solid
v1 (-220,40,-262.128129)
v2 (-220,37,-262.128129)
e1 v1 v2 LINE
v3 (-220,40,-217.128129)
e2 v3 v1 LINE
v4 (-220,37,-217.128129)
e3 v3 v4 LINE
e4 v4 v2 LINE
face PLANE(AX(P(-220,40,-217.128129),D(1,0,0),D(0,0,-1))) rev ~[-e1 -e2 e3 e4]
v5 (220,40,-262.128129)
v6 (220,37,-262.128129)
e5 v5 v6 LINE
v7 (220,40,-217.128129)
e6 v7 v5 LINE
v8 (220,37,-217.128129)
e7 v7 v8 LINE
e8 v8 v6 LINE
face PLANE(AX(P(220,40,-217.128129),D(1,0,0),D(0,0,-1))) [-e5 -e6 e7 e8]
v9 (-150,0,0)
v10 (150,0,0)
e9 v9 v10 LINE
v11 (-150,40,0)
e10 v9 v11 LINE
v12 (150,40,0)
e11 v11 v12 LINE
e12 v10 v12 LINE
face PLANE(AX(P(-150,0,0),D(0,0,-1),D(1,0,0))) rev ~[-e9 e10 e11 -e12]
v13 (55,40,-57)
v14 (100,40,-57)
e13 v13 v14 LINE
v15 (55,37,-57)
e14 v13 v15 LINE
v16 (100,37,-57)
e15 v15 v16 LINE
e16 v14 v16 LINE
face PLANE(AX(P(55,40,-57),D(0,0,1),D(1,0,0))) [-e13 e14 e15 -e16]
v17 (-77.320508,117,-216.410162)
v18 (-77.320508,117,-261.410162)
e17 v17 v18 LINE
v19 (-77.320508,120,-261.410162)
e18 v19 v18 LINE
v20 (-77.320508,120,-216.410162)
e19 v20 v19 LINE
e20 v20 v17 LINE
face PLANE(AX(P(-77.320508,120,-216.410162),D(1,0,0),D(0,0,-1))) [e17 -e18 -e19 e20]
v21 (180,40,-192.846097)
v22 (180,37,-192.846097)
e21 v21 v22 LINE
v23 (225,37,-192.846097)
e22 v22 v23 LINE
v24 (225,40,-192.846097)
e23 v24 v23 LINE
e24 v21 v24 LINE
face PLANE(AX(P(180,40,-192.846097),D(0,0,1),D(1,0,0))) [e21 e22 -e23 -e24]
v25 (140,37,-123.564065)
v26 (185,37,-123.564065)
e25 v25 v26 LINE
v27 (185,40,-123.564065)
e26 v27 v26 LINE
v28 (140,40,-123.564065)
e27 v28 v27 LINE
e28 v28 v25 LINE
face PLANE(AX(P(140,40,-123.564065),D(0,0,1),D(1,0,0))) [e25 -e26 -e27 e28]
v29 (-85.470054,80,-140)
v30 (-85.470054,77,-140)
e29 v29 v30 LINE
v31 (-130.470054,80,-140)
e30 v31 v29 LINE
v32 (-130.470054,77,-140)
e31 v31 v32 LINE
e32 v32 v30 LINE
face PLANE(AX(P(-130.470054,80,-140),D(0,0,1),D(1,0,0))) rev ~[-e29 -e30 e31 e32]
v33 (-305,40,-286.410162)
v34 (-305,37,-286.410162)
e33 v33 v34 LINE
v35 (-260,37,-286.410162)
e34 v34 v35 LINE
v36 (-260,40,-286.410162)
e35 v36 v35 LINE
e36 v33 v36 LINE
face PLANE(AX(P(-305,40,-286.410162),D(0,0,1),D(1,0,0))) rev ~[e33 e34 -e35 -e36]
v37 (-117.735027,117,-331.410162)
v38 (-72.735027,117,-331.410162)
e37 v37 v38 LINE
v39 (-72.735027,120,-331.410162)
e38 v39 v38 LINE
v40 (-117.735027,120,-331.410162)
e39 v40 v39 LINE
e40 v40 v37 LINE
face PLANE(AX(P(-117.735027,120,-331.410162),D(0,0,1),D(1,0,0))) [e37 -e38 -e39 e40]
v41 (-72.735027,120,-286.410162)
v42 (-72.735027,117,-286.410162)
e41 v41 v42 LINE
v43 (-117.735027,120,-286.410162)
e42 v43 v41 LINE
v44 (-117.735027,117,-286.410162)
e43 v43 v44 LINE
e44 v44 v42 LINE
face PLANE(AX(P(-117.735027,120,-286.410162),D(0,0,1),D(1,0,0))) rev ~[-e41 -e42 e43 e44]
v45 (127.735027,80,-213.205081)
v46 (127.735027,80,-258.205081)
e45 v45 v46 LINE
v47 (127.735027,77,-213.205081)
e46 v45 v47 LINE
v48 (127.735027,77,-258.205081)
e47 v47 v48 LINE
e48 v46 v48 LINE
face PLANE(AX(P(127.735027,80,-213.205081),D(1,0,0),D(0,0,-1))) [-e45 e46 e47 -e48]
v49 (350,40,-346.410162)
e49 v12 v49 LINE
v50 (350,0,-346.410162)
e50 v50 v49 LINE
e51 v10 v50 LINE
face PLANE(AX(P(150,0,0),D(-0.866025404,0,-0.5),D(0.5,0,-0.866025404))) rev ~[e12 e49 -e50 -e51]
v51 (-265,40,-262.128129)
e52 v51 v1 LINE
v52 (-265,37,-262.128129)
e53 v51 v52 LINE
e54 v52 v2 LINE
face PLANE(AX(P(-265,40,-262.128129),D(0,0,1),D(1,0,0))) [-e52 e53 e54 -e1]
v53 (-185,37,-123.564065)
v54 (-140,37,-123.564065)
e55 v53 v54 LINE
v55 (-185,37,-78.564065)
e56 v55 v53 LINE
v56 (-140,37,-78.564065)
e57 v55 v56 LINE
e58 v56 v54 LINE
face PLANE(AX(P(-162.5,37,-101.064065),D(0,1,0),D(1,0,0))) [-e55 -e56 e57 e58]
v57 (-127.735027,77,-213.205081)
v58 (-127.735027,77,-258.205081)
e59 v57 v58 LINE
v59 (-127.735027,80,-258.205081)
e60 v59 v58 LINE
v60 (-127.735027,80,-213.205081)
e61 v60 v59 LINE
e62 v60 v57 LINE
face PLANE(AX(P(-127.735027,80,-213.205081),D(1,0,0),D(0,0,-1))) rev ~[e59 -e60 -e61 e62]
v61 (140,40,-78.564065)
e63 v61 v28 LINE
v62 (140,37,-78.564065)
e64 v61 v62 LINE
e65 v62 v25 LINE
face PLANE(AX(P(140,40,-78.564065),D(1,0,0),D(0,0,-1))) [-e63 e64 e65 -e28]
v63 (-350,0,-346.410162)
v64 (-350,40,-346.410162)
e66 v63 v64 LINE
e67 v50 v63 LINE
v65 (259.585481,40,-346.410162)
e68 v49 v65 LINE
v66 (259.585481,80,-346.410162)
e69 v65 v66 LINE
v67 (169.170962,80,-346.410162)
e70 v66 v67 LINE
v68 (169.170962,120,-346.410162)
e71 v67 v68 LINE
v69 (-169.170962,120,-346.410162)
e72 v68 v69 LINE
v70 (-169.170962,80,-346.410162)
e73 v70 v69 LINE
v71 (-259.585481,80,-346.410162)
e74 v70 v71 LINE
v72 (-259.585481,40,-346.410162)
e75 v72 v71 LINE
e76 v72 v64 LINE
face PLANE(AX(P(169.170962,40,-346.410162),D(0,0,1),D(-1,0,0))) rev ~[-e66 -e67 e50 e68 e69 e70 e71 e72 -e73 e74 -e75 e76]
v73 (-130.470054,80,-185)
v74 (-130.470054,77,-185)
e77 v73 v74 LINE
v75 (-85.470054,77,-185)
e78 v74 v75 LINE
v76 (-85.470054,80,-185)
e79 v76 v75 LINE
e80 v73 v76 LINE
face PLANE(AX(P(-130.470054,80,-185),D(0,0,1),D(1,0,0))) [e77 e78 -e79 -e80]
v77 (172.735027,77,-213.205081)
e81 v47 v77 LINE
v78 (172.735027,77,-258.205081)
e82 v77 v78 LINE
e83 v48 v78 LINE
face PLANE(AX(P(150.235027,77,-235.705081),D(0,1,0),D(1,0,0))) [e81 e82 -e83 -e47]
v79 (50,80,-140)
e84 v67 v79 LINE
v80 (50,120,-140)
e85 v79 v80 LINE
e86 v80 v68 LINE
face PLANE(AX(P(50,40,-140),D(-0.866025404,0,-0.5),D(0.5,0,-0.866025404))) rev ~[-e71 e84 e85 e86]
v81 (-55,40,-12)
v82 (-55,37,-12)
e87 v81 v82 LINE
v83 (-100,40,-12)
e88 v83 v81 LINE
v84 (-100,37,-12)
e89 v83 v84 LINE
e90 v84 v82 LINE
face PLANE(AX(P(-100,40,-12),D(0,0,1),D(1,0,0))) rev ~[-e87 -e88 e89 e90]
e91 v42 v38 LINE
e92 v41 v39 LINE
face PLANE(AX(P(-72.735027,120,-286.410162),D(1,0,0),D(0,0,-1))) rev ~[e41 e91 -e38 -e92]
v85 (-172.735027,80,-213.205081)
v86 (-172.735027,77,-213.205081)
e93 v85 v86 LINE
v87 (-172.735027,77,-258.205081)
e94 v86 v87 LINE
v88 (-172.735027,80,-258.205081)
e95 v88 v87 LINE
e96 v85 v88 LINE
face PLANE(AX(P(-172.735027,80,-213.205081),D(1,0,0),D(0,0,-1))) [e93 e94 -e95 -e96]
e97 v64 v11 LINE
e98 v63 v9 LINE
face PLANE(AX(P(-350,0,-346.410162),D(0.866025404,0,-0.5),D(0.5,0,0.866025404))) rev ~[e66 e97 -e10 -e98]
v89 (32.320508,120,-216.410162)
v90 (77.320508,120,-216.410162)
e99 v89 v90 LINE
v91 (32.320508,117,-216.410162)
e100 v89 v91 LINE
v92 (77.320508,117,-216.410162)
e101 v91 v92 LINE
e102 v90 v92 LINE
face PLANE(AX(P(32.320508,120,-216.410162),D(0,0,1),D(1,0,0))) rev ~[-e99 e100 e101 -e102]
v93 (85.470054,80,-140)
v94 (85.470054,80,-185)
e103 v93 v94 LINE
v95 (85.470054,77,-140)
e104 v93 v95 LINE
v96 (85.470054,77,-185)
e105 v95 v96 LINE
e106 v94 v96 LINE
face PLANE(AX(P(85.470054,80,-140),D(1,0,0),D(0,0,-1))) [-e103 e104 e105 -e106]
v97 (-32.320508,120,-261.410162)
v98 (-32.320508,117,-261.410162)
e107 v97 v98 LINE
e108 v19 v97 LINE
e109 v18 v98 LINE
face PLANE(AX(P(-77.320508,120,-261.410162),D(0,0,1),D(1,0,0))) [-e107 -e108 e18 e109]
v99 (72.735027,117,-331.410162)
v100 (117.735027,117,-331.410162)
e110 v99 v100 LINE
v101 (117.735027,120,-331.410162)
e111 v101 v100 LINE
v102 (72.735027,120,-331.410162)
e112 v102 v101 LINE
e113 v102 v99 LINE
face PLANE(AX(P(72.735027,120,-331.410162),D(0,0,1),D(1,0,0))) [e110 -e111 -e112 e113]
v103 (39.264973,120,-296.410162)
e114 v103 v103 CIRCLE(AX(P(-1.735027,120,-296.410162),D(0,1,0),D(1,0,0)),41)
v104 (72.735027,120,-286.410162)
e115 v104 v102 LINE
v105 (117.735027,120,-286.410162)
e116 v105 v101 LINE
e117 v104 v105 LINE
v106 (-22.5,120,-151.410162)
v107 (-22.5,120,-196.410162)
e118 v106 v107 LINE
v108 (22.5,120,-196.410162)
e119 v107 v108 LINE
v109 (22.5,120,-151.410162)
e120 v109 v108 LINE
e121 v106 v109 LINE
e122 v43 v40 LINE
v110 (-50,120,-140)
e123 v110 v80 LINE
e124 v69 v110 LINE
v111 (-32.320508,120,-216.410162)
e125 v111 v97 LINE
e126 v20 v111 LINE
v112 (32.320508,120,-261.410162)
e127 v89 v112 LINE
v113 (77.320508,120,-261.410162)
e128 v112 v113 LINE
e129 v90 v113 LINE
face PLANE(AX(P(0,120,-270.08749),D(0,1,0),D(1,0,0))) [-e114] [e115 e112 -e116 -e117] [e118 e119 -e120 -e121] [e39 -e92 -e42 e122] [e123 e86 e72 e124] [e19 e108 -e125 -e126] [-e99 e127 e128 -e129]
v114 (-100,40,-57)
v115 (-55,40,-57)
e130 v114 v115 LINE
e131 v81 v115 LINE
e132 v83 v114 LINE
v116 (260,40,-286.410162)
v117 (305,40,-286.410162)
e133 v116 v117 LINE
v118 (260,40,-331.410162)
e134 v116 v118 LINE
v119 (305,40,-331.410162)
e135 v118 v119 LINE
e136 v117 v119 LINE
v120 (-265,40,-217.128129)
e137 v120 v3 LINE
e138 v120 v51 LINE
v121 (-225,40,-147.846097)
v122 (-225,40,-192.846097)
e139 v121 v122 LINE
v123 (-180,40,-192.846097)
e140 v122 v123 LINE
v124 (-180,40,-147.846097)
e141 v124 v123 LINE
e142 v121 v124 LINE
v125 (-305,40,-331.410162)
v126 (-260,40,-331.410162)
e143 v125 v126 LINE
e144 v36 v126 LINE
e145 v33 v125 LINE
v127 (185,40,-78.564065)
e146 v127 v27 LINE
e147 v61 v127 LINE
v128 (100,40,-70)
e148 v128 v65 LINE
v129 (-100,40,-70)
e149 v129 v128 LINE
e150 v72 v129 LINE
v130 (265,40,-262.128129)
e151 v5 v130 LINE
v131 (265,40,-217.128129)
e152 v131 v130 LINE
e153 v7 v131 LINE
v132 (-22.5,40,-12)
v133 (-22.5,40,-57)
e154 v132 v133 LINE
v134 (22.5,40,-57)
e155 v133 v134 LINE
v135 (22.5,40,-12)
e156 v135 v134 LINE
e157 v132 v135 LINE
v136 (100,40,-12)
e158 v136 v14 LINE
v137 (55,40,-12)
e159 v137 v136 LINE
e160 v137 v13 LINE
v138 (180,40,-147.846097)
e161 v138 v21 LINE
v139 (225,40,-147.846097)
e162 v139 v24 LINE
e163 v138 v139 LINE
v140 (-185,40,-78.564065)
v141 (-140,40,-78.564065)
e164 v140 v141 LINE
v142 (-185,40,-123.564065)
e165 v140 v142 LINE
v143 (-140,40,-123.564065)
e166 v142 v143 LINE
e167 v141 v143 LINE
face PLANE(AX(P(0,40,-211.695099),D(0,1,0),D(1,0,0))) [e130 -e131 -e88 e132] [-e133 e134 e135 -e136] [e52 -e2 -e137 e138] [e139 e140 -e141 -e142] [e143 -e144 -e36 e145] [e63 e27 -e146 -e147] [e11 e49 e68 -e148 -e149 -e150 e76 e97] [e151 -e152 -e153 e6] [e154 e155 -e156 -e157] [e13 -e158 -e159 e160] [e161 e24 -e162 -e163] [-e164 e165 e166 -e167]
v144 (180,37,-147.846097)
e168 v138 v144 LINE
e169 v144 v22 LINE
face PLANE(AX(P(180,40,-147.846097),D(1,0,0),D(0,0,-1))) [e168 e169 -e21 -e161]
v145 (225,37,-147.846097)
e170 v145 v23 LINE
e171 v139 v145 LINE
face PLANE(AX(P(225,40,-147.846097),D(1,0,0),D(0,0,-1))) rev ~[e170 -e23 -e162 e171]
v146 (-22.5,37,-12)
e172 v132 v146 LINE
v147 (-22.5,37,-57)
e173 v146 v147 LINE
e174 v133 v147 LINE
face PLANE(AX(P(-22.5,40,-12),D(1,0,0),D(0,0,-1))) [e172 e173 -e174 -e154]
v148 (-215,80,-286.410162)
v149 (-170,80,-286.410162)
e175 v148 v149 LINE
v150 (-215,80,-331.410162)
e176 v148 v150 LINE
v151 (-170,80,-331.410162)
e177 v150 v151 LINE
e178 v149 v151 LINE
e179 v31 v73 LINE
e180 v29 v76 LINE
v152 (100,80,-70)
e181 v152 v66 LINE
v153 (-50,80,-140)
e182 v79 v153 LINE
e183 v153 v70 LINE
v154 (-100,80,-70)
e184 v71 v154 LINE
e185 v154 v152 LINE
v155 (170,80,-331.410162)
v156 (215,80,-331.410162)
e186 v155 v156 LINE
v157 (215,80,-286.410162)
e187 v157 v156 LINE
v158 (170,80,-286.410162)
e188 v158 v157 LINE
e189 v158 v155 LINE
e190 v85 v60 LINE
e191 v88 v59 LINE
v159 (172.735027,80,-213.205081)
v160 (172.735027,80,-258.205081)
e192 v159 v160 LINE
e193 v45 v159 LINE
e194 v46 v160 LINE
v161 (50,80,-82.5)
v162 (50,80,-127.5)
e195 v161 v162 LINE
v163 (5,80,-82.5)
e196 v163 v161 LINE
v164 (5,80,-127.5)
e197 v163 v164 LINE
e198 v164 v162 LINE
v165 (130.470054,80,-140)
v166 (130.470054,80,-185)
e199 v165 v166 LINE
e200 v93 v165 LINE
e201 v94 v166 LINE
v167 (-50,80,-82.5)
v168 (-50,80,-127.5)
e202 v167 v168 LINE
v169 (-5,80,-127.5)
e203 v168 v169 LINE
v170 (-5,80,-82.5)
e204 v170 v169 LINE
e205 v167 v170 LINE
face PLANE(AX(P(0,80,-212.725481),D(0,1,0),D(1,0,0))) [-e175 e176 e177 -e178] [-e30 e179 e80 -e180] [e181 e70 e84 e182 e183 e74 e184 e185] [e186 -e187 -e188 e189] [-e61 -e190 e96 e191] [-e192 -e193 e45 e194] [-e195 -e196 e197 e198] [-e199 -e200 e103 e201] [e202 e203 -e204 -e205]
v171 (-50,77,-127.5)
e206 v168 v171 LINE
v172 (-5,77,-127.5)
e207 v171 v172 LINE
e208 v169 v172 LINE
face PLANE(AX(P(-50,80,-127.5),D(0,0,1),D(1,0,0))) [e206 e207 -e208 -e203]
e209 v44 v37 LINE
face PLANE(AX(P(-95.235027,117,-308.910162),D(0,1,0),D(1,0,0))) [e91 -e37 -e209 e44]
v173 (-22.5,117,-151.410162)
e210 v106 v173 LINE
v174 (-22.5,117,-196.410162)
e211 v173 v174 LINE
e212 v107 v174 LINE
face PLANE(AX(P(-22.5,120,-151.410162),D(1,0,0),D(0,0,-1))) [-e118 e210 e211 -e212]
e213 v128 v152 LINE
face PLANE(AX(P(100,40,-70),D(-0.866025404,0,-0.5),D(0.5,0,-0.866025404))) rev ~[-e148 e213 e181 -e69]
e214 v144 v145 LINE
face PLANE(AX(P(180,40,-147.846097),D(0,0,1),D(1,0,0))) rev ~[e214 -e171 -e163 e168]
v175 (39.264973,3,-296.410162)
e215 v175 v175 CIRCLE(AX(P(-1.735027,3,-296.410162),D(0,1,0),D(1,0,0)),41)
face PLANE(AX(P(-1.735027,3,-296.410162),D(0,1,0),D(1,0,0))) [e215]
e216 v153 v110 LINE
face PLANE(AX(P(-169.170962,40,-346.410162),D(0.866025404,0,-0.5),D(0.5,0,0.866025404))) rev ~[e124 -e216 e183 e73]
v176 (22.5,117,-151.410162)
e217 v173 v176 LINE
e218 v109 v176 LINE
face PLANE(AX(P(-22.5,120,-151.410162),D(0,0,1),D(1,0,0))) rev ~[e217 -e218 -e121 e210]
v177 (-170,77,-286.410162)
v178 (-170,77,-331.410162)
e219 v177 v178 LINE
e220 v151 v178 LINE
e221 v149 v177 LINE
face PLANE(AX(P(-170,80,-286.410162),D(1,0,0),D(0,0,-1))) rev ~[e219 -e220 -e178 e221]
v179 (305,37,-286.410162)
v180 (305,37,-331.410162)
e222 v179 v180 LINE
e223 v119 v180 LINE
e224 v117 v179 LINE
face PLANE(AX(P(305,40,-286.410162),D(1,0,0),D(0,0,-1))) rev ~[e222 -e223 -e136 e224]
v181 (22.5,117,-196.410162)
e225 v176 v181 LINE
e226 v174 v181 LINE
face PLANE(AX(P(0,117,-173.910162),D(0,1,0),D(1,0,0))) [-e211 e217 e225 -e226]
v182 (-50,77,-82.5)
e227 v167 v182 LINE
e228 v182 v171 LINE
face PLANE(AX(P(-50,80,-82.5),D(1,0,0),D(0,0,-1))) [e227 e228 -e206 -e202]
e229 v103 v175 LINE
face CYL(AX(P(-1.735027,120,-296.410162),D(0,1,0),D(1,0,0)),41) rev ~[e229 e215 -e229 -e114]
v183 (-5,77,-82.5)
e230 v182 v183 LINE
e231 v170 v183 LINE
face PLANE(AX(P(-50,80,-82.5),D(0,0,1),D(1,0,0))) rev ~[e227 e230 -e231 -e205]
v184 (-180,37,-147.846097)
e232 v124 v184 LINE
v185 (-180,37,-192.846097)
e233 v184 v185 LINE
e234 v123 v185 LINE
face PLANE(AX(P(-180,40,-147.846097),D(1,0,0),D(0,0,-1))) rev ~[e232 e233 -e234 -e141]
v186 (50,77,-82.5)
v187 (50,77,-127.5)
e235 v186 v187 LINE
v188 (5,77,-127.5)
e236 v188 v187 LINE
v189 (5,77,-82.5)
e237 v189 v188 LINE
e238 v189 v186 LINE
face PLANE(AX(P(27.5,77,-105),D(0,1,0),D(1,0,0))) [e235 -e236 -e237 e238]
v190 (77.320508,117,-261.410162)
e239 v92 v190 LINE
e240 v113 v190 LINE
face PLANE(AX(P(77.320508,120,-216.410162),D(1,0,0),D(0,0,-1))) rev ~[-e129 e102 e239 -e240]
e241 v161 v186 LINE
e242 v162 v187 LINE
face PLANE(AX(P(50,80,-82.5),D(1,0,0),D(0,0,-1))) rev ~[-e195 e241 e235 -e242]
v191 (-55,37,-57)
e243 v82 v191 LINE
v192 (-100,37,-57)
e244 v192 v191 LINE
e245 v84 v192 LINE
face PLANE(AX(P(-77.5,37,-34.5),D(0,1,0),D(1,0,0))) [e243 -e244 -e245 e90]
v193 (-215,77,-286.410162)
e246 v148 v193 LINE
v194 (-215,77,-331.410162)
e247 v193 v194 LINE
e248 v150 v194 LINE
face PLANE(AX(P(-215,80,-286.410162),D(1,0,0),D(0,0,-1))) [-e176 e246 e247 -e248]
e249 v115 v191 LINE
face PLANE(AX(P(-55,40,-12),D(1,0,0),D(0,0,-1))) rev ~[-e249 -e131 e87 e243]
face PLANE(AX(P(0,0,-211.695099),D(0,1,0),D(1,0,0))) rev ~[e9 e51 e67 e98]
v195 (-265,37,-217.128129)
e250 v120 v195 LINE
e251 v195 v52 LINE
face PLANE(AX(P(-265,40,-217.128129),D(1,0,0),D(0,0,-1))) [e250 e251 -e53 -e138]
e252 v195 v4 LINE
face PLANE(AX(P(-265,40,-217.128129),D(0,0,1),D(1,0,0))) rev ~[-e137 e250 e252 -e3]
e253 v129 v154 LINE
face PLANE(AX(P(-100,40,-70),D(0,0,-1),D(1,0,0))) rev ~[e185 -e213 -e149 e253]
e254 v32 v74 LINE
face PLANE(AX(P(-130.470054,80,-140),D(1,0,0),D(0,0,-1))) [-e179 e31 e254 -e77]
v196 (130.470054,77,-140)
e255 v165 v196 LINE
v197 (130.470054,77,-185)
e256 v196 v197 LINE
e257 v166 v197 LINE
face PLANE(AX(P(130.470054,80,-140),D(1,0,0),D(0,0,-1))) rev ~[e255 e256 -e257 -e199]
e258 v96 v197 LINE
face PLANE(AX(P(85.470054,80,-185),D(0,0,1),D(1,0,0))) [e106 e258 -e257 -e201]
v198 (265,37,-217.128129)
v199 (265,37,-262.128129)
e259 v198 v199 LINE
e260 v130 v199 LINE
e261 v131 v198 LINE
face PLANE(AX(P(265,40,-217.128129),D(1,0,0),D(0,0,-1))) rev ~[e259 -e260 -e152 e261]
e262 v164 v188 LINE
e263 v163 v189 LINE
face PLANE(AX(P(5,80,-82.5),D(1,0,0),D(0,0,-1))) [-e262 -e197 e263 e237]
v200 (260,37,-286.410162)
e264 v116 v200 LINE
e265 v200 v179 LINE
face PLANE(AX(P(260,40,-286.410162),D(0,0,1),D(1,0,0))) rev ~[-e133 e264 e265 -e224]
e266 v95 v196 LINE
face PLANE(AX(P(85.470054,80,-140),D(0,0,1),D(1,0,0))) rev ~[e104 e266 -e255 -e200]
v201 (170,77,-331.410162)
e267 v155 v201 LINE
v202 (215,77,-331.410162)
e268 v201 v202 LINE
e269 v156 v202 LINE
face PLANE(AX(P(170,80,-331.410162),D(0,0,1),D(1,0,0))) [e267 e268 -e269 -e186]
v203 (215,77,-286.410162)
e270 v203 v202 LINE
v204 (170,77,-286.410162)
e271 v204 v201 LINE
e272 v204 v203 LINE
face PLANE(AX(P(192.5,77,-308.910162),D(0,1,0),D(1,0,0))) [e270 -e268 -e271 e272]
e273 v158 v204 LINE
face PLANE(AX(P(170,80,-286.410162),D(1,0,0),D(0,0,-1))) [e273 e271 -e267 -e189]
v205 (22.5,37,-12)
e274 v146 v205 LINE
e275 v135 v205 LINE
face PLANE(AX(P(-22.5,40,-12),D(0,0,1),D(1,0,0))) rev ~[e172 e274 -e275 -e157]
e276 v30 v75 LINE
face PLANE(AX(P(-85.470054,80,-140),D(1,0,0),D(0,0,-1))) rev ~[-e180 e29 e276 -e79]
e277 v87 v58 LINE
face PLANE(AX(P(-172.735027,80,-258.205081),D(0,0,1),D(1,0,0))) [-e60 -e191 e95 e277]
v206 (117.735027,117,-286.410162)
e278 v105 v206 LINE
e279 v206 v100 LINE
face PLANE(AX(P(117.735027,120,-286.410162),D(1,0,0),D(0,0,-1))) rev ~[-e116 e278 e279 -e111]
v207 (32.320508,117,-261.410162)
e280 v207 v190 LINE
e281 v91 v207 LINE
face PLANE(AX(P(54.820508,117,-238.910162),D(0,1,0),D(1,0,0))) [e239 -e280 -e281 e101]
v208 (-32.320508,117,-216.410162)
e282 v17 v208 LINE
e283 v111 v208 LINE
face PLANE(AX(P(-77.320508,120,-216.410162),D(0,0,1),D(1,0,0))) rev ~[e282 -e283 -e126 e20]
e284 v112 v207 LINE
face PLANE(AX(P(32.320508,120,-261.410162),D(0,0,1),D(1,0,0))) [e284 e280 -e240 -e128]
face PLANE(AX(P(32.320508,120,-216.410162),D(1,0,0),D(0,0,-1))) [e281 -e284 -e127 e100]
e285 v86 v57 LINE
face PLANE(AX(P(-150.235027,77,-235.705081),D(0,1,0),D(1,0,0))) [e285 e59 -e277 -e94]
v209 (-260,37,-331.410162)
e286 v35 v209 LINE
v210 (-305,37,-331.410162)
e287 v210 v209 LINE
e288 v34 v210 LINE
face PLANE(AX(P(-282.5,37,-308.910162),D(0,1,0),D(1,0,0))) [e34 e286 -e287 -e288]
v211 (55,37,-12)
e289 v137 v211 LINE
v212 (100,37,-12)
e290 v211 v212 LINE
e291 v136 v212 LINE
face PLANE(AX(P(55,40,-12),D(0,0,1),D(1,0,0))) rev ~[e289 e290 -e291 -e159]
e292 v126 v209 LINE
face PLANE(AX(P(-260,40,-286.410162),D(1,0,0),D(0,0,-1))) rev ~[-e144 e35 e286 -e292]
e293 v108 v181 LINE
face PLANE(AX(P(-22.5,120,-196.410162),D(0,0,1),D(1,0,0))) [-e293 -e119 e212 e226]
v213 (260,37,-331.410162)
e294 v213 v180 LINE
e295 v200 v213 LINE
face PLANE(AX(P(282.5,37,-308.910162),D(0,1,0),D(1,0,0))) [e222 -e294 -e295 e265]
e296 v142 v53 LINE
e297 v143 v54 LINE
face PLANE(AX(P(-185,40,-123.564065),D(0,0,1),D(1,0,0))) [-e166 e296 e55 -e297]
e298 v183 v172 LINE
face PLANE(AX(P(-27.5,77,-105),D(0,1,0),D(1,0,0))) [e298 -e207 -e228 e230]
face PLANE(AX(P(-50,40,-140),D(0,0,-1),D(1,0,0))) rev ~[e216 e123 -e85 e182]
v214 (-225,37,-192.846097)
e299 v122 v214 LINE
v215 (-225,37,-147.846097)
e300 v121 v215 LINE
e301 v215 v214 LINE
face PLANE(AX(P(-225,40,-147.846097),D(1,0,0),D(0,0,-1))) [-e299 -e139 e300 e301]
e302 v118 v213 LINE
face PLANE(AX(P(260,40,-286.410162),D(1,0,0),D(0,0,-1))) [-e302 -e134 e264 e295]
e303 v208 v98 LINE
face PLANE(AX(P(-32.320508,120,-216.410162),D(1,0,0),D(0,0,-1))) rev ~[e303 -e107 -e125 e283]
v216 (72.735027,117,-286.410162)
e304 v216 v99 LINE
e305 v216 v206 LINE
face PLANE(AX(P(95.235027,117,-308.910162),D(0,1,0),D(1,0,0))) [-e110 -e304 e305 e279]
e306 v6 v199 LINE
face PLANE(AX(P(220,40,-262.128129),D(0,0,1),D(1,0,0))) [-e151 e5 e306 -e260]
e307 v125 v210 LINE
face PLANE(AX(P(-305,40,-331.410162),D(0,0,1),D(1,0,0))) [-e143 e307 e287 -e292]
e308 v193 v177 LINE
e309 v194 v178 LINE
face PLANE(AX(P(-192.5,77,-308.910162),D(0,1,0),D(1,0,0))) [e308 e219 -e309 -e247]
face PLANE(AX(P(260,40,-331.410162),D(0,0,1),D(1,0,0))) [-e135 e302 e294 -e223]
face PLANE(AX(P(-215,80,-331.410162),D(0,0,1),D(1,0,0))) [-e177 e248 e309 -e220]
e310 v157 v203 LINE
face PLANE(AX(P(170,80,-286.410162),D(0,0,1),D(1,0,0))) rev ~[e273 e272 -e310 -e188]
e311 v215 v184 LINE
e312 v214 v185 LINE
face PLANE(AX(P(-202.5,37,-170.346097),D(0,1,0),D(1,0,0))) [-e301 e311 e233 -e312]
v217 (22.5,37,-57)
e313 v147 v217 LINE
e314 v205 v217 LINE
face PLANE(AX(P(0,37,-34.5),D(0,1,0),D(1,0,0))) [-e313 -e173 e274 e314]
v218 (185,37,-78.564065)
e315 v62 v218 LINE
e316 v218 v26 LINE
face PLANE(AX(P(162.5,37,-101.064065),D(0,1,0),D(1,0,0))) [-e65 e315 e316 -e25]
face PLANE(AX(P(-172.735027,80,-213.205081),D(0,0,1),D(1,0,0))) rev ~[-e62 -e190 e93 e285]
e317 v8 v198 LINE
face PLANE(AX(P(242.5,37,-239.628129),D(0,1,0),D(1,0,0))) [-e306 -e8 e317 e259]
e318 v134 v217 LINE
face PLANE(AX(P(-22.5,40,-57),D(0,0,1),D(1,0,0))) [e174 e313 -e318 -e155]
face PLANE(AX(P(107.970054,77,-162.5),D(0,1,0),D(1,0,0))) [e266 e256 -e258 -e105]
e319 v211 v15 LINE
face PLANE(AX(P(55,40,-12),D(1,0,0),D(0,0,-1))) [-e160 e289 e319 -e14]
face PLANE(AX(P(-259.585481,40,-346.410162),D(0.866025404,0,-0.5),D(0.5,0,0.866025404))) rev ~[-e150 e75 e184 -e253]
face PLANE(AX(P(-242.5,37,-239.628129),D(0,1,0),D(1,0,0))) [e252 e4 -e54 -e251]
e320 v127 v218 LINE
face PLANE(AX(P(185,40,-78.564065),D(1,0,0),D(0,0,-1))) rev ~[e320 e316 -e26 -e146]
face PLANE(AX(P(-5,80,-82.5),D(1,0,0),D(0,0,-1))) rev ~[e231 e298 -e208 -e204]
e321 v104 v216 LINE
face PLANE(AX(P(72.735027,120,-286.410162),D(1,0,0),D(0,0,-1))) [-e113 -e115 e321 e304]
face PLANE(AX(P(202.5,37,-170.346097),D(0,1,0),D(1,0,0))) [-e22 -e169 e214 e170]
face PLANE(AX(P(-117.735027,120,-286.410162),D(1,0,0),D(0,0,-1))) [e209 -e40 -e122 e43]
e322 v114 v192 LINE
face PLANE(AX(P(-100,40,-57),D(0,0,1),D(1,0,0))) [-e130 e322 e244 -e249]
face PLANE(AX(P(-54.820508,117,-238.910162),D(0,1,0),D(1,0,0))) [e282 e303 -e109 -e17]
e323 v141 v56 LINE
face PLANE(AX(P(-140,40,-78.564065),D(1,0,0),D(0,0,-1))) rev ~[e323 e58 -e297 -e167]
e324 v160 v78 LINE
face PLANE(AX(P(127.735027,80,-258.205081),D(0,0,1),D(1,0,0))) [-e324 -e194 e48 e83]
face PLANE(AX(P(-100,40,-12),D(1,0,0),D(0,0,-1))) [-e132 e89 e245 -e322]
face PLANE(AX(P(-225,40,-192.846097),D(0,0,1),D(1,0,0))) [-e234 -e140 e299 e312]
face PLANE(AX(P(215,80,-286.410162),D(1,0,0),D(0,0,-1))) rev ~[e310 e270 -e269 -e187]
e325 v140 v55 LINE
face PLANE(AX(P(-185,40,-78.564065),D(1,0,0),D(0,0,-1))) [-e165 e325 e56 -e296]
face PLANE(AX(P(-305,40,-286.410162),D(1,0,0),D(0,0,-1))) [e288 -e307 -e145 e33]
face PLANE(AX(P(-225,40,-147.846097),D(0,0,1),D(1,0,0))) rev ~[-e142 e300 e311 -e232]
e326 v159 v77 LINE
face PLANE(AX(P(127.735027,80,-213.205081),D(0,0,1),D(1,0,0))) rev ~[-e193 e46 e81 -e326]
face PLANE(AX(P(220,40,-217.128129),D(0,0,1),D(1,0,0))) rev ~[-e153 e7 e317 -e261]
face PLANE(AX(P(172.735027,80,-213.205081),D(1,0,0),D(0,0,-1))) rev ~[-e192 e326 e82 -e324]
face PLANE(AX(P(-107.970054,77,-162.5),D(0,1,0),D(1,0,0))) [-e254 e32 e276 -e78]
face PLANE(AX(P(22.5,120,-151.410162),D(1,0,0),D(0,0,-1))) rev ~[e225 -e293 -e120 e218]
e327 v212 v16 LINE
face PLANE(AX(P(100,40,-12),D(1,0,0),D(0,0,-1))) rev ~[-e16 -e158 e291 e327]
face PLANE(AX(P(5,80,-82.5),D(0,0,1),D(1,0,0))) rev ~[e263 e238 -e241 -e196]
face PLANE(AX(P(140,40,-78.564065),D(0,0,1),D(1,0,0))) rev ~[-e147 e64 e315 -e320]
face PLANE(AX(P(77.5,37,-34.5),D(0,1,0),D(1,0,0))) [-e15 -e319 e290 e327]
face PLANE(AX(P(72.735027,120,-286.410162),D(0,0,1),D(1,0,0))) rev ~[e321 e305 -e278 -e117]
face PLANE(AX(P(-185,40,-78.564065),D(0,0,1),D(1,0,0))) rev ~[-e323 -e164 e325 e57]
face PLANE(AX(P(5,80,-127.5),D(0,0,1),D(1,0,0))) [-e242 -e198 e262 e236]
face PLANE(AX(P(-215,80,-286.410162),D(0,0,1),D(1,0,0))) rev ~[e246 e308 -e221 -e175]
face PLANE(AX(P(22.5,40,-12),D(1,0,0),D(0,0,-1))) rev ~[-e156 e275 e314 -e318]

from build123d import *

# Parameters (mm, degrees)
BOSS_EXTRUDE1_DEPTH = 40
BOSS_EXTRUDE2_DEPTH = 40
BOSS_EXTRUDE3_DEPTH = 80
SKETCH7_W           = 45
SKETCH7_H           = 45
CUT_EXTRUDE2_DEPTH  = 3
SKETCH8_W           = 45
SKETCH8_H           = 45
CUT_EXTRUDE3_DEPTH  = 3
SKETCH9_W           = 45
SKETCH9_H           = 45
CUT_EXTRUDE4_DEPTH  = 3
SKETCH11_W          = 45
SKETCH11_H          = 45
CUT_EXTRUDE5_DEPTH  = 3
SKETCH13_R          = 41
CUT_EXTRUDE6_DEPTH  = 117


with BuildPart() as part:
    # Sketch1 → Boss-Extrude1 (new body)
    with BuildSketch(Plane(origin=(0, 0, 0), x_dir=(1, 0, 0), z_dir=(0, 1, 0))):
        Polygon((-150, 0), (150, 0), (350, 346.410161514), (-350, 346.410161514), align=None)
    extrude(amount=BOSS_EXTRUDE1_DEPTH)

    # Sketch3 → Boss-Extrude2 (add)
    with BuildSketch(Plane(origin=(0, 40, 0), x_dir=(1, 0, 0), z_dir=(0, 1, 0))):
        Polygon((-100, 70), (100, 70), (259.585481157, 346.410161514), (169.170962313, 346.410161514), (50, 140), (-50, 140), (-169.170962313, 346.410161514), (-259.585481157, 346.410161514), align=None)
    extrude(amount=BOSS_EXTRUDE2_DEPTH)

    # Sketch4 → Boss-Extrude3 (add)
    with BuildSketch(Plane(origin=(0, 40, 0), x_dir=(1, 0, 0), z_dir=(0, 1, 0))):
        Polygon((169.170962313, 346.410161514), (-169.170962313, 346.410161514), (-50, 140), (50, 140), align=None)
    extrude(amount=BOSS_EXTRUDE3_DEPTH)

    # Sketch7 → Cut-Extrude2 (cut)
    with BuildSketch(Plane(origin=(0, 40, 0), x_dir=(1, 0, 0), z_dir=(0, 1, 0))):
        with Locations((-282.5, 308.910161514)):
            Rectangle(SKETCH7_W, SKETCH7_H)
        with Locations((-77.5, 34.5)):
            Rectangle(SKETCH7_W, SKETCH7_H)
        with Locations((-242.5, 239.628129211)):
            Rectangle(SKETCH7_W, SKETCH7_H)
        with Locations((-202.5, 170.346096908)):
            Rectangle(SKETCH7_W, SKETCH7_H)
        with Locations((-162.5, 101.064064606)):
            Rectangle(SKETCH7_W, SKETCH7_H)
        with Locations((282.5, 308.910161514)):
            Rectangle(SKETCH7_W, SKETCH7_H)
        with Locations((162.5, 101.064064606)):
            Rectangle(SKETCH7_W, SKETCH7_H)
        with Locations((202.5, 170.346096908)):
            Rectangle(SKETCH7_W, SKETCH7_H)
        with Locations((242.5, 239.628129211)):
            Rectangle(SKETCH7_W, SKETCH7_H)
        with Locations((0, 34.5)):
            Rectangle(SKETCH7_W, SKETCH7_H)
        with Locations((77.5, 34.5)):
            Rectangle(SKETCH7_W, SKETCH7_H)
    extrude(amount=-CUT_EXTRUDE2_DEPTH, mode=Mode.SUBTRACT)

    # Sketch8 → Cut-Extrude3 (cut)
    with BuildSketch(Plane(origin=(0, 80, 0), x_dir=(1, 0, 0), z_dir=(0, 1, 0))):
        with Locations((-192.5, 308.910161514)):
            Rectangle(SKETCH8_W, SKETCH8_H)
        with Locations((-150.235026919, 235.705080757)):
            Rectangle(SKETCH8_W, SKETCH8_H)
        with Locations((-107.970053838, 162.5)):
            Rectangle(SKETCH8_W, SKETCH8_H)
        with Locations((192.5, 308.910161514)):
            Rectangle(SKETCH8_W, SKETCH8_H)
        with Locations((150.235026919, 235.705080757)):
            Rectangle(SKETCH8_W, SKETCH8_H)
        with Locations((107.970053838, 162.5)):
            Rectangle(SKETCH8_W, SKETCH8_H)
    extrude(amount=-CUT_EXTRUDE3_DEPTH, mode=Mode.SUBTRACT)

    # Sketch9 → Cut-Extrude4 (cut)
    with BuildSketch(Plane(origin=(0, 80, 0), x_dir=(1, 0, 0), z_dir=(0, 1, 0))):
        with Locations((-27.5, 105)):
            Rectangle(SKETCH9_W, SKETCH9_H)
        with Locations((27.5, 105)):
            Rectangle(SKETCH9_W, SKETCH9_H)
    extrude(amount=-CUT_EXTRUDE4_DEPTH, mode=Mode.SUBTRACT)

    # Sketch11 → Cut-Extrude5 (cut)
    with BuildSketch(Plane(origin=(0, 120, 0), x_dir=(1, 0, 0), z_dir=(0, 1, 0))):
        with Locations((-54.820508076, 238.910161514)):
            Rectangle(SKETCH11_W, SKETCH11_H)
        with Locations((-95.235026919, 308.910161514)):
            Rectangle(SKETCH11_W, SKETCH11_H)
        with Locations((54.820508076, 238.910161514)):
            Rectangle(SKETCH11_W, SKETCH11_H)
        with Locations((95.235026919, 308.910161514)):
            Rectangle(SKETCH11_W, SKETCH11_H)
        with Locations((0, 173.910161514)):
            Rectangle(SKETCH11_W, SKETCH11_H)
    extrude(amount=-CUT_EXTRUDE5_DEPTH, mode=Mode.SUBTRACT)

    # Sketch13 → Cut-Extrude6 (cut)
    with BuildSketch(Plane(origin=(0, 120, 0), x_dir=(1, 0, 0), z_dir=(0, 1, 0))):
        with Locations((-1.735026919, 296.410161514)):
            Circle(SKETCH13_R)
    extrude(amount=-CUT_EXTRUDE6_DEPTH, mode=Mode.SUBTRACT)


solid = part.part
